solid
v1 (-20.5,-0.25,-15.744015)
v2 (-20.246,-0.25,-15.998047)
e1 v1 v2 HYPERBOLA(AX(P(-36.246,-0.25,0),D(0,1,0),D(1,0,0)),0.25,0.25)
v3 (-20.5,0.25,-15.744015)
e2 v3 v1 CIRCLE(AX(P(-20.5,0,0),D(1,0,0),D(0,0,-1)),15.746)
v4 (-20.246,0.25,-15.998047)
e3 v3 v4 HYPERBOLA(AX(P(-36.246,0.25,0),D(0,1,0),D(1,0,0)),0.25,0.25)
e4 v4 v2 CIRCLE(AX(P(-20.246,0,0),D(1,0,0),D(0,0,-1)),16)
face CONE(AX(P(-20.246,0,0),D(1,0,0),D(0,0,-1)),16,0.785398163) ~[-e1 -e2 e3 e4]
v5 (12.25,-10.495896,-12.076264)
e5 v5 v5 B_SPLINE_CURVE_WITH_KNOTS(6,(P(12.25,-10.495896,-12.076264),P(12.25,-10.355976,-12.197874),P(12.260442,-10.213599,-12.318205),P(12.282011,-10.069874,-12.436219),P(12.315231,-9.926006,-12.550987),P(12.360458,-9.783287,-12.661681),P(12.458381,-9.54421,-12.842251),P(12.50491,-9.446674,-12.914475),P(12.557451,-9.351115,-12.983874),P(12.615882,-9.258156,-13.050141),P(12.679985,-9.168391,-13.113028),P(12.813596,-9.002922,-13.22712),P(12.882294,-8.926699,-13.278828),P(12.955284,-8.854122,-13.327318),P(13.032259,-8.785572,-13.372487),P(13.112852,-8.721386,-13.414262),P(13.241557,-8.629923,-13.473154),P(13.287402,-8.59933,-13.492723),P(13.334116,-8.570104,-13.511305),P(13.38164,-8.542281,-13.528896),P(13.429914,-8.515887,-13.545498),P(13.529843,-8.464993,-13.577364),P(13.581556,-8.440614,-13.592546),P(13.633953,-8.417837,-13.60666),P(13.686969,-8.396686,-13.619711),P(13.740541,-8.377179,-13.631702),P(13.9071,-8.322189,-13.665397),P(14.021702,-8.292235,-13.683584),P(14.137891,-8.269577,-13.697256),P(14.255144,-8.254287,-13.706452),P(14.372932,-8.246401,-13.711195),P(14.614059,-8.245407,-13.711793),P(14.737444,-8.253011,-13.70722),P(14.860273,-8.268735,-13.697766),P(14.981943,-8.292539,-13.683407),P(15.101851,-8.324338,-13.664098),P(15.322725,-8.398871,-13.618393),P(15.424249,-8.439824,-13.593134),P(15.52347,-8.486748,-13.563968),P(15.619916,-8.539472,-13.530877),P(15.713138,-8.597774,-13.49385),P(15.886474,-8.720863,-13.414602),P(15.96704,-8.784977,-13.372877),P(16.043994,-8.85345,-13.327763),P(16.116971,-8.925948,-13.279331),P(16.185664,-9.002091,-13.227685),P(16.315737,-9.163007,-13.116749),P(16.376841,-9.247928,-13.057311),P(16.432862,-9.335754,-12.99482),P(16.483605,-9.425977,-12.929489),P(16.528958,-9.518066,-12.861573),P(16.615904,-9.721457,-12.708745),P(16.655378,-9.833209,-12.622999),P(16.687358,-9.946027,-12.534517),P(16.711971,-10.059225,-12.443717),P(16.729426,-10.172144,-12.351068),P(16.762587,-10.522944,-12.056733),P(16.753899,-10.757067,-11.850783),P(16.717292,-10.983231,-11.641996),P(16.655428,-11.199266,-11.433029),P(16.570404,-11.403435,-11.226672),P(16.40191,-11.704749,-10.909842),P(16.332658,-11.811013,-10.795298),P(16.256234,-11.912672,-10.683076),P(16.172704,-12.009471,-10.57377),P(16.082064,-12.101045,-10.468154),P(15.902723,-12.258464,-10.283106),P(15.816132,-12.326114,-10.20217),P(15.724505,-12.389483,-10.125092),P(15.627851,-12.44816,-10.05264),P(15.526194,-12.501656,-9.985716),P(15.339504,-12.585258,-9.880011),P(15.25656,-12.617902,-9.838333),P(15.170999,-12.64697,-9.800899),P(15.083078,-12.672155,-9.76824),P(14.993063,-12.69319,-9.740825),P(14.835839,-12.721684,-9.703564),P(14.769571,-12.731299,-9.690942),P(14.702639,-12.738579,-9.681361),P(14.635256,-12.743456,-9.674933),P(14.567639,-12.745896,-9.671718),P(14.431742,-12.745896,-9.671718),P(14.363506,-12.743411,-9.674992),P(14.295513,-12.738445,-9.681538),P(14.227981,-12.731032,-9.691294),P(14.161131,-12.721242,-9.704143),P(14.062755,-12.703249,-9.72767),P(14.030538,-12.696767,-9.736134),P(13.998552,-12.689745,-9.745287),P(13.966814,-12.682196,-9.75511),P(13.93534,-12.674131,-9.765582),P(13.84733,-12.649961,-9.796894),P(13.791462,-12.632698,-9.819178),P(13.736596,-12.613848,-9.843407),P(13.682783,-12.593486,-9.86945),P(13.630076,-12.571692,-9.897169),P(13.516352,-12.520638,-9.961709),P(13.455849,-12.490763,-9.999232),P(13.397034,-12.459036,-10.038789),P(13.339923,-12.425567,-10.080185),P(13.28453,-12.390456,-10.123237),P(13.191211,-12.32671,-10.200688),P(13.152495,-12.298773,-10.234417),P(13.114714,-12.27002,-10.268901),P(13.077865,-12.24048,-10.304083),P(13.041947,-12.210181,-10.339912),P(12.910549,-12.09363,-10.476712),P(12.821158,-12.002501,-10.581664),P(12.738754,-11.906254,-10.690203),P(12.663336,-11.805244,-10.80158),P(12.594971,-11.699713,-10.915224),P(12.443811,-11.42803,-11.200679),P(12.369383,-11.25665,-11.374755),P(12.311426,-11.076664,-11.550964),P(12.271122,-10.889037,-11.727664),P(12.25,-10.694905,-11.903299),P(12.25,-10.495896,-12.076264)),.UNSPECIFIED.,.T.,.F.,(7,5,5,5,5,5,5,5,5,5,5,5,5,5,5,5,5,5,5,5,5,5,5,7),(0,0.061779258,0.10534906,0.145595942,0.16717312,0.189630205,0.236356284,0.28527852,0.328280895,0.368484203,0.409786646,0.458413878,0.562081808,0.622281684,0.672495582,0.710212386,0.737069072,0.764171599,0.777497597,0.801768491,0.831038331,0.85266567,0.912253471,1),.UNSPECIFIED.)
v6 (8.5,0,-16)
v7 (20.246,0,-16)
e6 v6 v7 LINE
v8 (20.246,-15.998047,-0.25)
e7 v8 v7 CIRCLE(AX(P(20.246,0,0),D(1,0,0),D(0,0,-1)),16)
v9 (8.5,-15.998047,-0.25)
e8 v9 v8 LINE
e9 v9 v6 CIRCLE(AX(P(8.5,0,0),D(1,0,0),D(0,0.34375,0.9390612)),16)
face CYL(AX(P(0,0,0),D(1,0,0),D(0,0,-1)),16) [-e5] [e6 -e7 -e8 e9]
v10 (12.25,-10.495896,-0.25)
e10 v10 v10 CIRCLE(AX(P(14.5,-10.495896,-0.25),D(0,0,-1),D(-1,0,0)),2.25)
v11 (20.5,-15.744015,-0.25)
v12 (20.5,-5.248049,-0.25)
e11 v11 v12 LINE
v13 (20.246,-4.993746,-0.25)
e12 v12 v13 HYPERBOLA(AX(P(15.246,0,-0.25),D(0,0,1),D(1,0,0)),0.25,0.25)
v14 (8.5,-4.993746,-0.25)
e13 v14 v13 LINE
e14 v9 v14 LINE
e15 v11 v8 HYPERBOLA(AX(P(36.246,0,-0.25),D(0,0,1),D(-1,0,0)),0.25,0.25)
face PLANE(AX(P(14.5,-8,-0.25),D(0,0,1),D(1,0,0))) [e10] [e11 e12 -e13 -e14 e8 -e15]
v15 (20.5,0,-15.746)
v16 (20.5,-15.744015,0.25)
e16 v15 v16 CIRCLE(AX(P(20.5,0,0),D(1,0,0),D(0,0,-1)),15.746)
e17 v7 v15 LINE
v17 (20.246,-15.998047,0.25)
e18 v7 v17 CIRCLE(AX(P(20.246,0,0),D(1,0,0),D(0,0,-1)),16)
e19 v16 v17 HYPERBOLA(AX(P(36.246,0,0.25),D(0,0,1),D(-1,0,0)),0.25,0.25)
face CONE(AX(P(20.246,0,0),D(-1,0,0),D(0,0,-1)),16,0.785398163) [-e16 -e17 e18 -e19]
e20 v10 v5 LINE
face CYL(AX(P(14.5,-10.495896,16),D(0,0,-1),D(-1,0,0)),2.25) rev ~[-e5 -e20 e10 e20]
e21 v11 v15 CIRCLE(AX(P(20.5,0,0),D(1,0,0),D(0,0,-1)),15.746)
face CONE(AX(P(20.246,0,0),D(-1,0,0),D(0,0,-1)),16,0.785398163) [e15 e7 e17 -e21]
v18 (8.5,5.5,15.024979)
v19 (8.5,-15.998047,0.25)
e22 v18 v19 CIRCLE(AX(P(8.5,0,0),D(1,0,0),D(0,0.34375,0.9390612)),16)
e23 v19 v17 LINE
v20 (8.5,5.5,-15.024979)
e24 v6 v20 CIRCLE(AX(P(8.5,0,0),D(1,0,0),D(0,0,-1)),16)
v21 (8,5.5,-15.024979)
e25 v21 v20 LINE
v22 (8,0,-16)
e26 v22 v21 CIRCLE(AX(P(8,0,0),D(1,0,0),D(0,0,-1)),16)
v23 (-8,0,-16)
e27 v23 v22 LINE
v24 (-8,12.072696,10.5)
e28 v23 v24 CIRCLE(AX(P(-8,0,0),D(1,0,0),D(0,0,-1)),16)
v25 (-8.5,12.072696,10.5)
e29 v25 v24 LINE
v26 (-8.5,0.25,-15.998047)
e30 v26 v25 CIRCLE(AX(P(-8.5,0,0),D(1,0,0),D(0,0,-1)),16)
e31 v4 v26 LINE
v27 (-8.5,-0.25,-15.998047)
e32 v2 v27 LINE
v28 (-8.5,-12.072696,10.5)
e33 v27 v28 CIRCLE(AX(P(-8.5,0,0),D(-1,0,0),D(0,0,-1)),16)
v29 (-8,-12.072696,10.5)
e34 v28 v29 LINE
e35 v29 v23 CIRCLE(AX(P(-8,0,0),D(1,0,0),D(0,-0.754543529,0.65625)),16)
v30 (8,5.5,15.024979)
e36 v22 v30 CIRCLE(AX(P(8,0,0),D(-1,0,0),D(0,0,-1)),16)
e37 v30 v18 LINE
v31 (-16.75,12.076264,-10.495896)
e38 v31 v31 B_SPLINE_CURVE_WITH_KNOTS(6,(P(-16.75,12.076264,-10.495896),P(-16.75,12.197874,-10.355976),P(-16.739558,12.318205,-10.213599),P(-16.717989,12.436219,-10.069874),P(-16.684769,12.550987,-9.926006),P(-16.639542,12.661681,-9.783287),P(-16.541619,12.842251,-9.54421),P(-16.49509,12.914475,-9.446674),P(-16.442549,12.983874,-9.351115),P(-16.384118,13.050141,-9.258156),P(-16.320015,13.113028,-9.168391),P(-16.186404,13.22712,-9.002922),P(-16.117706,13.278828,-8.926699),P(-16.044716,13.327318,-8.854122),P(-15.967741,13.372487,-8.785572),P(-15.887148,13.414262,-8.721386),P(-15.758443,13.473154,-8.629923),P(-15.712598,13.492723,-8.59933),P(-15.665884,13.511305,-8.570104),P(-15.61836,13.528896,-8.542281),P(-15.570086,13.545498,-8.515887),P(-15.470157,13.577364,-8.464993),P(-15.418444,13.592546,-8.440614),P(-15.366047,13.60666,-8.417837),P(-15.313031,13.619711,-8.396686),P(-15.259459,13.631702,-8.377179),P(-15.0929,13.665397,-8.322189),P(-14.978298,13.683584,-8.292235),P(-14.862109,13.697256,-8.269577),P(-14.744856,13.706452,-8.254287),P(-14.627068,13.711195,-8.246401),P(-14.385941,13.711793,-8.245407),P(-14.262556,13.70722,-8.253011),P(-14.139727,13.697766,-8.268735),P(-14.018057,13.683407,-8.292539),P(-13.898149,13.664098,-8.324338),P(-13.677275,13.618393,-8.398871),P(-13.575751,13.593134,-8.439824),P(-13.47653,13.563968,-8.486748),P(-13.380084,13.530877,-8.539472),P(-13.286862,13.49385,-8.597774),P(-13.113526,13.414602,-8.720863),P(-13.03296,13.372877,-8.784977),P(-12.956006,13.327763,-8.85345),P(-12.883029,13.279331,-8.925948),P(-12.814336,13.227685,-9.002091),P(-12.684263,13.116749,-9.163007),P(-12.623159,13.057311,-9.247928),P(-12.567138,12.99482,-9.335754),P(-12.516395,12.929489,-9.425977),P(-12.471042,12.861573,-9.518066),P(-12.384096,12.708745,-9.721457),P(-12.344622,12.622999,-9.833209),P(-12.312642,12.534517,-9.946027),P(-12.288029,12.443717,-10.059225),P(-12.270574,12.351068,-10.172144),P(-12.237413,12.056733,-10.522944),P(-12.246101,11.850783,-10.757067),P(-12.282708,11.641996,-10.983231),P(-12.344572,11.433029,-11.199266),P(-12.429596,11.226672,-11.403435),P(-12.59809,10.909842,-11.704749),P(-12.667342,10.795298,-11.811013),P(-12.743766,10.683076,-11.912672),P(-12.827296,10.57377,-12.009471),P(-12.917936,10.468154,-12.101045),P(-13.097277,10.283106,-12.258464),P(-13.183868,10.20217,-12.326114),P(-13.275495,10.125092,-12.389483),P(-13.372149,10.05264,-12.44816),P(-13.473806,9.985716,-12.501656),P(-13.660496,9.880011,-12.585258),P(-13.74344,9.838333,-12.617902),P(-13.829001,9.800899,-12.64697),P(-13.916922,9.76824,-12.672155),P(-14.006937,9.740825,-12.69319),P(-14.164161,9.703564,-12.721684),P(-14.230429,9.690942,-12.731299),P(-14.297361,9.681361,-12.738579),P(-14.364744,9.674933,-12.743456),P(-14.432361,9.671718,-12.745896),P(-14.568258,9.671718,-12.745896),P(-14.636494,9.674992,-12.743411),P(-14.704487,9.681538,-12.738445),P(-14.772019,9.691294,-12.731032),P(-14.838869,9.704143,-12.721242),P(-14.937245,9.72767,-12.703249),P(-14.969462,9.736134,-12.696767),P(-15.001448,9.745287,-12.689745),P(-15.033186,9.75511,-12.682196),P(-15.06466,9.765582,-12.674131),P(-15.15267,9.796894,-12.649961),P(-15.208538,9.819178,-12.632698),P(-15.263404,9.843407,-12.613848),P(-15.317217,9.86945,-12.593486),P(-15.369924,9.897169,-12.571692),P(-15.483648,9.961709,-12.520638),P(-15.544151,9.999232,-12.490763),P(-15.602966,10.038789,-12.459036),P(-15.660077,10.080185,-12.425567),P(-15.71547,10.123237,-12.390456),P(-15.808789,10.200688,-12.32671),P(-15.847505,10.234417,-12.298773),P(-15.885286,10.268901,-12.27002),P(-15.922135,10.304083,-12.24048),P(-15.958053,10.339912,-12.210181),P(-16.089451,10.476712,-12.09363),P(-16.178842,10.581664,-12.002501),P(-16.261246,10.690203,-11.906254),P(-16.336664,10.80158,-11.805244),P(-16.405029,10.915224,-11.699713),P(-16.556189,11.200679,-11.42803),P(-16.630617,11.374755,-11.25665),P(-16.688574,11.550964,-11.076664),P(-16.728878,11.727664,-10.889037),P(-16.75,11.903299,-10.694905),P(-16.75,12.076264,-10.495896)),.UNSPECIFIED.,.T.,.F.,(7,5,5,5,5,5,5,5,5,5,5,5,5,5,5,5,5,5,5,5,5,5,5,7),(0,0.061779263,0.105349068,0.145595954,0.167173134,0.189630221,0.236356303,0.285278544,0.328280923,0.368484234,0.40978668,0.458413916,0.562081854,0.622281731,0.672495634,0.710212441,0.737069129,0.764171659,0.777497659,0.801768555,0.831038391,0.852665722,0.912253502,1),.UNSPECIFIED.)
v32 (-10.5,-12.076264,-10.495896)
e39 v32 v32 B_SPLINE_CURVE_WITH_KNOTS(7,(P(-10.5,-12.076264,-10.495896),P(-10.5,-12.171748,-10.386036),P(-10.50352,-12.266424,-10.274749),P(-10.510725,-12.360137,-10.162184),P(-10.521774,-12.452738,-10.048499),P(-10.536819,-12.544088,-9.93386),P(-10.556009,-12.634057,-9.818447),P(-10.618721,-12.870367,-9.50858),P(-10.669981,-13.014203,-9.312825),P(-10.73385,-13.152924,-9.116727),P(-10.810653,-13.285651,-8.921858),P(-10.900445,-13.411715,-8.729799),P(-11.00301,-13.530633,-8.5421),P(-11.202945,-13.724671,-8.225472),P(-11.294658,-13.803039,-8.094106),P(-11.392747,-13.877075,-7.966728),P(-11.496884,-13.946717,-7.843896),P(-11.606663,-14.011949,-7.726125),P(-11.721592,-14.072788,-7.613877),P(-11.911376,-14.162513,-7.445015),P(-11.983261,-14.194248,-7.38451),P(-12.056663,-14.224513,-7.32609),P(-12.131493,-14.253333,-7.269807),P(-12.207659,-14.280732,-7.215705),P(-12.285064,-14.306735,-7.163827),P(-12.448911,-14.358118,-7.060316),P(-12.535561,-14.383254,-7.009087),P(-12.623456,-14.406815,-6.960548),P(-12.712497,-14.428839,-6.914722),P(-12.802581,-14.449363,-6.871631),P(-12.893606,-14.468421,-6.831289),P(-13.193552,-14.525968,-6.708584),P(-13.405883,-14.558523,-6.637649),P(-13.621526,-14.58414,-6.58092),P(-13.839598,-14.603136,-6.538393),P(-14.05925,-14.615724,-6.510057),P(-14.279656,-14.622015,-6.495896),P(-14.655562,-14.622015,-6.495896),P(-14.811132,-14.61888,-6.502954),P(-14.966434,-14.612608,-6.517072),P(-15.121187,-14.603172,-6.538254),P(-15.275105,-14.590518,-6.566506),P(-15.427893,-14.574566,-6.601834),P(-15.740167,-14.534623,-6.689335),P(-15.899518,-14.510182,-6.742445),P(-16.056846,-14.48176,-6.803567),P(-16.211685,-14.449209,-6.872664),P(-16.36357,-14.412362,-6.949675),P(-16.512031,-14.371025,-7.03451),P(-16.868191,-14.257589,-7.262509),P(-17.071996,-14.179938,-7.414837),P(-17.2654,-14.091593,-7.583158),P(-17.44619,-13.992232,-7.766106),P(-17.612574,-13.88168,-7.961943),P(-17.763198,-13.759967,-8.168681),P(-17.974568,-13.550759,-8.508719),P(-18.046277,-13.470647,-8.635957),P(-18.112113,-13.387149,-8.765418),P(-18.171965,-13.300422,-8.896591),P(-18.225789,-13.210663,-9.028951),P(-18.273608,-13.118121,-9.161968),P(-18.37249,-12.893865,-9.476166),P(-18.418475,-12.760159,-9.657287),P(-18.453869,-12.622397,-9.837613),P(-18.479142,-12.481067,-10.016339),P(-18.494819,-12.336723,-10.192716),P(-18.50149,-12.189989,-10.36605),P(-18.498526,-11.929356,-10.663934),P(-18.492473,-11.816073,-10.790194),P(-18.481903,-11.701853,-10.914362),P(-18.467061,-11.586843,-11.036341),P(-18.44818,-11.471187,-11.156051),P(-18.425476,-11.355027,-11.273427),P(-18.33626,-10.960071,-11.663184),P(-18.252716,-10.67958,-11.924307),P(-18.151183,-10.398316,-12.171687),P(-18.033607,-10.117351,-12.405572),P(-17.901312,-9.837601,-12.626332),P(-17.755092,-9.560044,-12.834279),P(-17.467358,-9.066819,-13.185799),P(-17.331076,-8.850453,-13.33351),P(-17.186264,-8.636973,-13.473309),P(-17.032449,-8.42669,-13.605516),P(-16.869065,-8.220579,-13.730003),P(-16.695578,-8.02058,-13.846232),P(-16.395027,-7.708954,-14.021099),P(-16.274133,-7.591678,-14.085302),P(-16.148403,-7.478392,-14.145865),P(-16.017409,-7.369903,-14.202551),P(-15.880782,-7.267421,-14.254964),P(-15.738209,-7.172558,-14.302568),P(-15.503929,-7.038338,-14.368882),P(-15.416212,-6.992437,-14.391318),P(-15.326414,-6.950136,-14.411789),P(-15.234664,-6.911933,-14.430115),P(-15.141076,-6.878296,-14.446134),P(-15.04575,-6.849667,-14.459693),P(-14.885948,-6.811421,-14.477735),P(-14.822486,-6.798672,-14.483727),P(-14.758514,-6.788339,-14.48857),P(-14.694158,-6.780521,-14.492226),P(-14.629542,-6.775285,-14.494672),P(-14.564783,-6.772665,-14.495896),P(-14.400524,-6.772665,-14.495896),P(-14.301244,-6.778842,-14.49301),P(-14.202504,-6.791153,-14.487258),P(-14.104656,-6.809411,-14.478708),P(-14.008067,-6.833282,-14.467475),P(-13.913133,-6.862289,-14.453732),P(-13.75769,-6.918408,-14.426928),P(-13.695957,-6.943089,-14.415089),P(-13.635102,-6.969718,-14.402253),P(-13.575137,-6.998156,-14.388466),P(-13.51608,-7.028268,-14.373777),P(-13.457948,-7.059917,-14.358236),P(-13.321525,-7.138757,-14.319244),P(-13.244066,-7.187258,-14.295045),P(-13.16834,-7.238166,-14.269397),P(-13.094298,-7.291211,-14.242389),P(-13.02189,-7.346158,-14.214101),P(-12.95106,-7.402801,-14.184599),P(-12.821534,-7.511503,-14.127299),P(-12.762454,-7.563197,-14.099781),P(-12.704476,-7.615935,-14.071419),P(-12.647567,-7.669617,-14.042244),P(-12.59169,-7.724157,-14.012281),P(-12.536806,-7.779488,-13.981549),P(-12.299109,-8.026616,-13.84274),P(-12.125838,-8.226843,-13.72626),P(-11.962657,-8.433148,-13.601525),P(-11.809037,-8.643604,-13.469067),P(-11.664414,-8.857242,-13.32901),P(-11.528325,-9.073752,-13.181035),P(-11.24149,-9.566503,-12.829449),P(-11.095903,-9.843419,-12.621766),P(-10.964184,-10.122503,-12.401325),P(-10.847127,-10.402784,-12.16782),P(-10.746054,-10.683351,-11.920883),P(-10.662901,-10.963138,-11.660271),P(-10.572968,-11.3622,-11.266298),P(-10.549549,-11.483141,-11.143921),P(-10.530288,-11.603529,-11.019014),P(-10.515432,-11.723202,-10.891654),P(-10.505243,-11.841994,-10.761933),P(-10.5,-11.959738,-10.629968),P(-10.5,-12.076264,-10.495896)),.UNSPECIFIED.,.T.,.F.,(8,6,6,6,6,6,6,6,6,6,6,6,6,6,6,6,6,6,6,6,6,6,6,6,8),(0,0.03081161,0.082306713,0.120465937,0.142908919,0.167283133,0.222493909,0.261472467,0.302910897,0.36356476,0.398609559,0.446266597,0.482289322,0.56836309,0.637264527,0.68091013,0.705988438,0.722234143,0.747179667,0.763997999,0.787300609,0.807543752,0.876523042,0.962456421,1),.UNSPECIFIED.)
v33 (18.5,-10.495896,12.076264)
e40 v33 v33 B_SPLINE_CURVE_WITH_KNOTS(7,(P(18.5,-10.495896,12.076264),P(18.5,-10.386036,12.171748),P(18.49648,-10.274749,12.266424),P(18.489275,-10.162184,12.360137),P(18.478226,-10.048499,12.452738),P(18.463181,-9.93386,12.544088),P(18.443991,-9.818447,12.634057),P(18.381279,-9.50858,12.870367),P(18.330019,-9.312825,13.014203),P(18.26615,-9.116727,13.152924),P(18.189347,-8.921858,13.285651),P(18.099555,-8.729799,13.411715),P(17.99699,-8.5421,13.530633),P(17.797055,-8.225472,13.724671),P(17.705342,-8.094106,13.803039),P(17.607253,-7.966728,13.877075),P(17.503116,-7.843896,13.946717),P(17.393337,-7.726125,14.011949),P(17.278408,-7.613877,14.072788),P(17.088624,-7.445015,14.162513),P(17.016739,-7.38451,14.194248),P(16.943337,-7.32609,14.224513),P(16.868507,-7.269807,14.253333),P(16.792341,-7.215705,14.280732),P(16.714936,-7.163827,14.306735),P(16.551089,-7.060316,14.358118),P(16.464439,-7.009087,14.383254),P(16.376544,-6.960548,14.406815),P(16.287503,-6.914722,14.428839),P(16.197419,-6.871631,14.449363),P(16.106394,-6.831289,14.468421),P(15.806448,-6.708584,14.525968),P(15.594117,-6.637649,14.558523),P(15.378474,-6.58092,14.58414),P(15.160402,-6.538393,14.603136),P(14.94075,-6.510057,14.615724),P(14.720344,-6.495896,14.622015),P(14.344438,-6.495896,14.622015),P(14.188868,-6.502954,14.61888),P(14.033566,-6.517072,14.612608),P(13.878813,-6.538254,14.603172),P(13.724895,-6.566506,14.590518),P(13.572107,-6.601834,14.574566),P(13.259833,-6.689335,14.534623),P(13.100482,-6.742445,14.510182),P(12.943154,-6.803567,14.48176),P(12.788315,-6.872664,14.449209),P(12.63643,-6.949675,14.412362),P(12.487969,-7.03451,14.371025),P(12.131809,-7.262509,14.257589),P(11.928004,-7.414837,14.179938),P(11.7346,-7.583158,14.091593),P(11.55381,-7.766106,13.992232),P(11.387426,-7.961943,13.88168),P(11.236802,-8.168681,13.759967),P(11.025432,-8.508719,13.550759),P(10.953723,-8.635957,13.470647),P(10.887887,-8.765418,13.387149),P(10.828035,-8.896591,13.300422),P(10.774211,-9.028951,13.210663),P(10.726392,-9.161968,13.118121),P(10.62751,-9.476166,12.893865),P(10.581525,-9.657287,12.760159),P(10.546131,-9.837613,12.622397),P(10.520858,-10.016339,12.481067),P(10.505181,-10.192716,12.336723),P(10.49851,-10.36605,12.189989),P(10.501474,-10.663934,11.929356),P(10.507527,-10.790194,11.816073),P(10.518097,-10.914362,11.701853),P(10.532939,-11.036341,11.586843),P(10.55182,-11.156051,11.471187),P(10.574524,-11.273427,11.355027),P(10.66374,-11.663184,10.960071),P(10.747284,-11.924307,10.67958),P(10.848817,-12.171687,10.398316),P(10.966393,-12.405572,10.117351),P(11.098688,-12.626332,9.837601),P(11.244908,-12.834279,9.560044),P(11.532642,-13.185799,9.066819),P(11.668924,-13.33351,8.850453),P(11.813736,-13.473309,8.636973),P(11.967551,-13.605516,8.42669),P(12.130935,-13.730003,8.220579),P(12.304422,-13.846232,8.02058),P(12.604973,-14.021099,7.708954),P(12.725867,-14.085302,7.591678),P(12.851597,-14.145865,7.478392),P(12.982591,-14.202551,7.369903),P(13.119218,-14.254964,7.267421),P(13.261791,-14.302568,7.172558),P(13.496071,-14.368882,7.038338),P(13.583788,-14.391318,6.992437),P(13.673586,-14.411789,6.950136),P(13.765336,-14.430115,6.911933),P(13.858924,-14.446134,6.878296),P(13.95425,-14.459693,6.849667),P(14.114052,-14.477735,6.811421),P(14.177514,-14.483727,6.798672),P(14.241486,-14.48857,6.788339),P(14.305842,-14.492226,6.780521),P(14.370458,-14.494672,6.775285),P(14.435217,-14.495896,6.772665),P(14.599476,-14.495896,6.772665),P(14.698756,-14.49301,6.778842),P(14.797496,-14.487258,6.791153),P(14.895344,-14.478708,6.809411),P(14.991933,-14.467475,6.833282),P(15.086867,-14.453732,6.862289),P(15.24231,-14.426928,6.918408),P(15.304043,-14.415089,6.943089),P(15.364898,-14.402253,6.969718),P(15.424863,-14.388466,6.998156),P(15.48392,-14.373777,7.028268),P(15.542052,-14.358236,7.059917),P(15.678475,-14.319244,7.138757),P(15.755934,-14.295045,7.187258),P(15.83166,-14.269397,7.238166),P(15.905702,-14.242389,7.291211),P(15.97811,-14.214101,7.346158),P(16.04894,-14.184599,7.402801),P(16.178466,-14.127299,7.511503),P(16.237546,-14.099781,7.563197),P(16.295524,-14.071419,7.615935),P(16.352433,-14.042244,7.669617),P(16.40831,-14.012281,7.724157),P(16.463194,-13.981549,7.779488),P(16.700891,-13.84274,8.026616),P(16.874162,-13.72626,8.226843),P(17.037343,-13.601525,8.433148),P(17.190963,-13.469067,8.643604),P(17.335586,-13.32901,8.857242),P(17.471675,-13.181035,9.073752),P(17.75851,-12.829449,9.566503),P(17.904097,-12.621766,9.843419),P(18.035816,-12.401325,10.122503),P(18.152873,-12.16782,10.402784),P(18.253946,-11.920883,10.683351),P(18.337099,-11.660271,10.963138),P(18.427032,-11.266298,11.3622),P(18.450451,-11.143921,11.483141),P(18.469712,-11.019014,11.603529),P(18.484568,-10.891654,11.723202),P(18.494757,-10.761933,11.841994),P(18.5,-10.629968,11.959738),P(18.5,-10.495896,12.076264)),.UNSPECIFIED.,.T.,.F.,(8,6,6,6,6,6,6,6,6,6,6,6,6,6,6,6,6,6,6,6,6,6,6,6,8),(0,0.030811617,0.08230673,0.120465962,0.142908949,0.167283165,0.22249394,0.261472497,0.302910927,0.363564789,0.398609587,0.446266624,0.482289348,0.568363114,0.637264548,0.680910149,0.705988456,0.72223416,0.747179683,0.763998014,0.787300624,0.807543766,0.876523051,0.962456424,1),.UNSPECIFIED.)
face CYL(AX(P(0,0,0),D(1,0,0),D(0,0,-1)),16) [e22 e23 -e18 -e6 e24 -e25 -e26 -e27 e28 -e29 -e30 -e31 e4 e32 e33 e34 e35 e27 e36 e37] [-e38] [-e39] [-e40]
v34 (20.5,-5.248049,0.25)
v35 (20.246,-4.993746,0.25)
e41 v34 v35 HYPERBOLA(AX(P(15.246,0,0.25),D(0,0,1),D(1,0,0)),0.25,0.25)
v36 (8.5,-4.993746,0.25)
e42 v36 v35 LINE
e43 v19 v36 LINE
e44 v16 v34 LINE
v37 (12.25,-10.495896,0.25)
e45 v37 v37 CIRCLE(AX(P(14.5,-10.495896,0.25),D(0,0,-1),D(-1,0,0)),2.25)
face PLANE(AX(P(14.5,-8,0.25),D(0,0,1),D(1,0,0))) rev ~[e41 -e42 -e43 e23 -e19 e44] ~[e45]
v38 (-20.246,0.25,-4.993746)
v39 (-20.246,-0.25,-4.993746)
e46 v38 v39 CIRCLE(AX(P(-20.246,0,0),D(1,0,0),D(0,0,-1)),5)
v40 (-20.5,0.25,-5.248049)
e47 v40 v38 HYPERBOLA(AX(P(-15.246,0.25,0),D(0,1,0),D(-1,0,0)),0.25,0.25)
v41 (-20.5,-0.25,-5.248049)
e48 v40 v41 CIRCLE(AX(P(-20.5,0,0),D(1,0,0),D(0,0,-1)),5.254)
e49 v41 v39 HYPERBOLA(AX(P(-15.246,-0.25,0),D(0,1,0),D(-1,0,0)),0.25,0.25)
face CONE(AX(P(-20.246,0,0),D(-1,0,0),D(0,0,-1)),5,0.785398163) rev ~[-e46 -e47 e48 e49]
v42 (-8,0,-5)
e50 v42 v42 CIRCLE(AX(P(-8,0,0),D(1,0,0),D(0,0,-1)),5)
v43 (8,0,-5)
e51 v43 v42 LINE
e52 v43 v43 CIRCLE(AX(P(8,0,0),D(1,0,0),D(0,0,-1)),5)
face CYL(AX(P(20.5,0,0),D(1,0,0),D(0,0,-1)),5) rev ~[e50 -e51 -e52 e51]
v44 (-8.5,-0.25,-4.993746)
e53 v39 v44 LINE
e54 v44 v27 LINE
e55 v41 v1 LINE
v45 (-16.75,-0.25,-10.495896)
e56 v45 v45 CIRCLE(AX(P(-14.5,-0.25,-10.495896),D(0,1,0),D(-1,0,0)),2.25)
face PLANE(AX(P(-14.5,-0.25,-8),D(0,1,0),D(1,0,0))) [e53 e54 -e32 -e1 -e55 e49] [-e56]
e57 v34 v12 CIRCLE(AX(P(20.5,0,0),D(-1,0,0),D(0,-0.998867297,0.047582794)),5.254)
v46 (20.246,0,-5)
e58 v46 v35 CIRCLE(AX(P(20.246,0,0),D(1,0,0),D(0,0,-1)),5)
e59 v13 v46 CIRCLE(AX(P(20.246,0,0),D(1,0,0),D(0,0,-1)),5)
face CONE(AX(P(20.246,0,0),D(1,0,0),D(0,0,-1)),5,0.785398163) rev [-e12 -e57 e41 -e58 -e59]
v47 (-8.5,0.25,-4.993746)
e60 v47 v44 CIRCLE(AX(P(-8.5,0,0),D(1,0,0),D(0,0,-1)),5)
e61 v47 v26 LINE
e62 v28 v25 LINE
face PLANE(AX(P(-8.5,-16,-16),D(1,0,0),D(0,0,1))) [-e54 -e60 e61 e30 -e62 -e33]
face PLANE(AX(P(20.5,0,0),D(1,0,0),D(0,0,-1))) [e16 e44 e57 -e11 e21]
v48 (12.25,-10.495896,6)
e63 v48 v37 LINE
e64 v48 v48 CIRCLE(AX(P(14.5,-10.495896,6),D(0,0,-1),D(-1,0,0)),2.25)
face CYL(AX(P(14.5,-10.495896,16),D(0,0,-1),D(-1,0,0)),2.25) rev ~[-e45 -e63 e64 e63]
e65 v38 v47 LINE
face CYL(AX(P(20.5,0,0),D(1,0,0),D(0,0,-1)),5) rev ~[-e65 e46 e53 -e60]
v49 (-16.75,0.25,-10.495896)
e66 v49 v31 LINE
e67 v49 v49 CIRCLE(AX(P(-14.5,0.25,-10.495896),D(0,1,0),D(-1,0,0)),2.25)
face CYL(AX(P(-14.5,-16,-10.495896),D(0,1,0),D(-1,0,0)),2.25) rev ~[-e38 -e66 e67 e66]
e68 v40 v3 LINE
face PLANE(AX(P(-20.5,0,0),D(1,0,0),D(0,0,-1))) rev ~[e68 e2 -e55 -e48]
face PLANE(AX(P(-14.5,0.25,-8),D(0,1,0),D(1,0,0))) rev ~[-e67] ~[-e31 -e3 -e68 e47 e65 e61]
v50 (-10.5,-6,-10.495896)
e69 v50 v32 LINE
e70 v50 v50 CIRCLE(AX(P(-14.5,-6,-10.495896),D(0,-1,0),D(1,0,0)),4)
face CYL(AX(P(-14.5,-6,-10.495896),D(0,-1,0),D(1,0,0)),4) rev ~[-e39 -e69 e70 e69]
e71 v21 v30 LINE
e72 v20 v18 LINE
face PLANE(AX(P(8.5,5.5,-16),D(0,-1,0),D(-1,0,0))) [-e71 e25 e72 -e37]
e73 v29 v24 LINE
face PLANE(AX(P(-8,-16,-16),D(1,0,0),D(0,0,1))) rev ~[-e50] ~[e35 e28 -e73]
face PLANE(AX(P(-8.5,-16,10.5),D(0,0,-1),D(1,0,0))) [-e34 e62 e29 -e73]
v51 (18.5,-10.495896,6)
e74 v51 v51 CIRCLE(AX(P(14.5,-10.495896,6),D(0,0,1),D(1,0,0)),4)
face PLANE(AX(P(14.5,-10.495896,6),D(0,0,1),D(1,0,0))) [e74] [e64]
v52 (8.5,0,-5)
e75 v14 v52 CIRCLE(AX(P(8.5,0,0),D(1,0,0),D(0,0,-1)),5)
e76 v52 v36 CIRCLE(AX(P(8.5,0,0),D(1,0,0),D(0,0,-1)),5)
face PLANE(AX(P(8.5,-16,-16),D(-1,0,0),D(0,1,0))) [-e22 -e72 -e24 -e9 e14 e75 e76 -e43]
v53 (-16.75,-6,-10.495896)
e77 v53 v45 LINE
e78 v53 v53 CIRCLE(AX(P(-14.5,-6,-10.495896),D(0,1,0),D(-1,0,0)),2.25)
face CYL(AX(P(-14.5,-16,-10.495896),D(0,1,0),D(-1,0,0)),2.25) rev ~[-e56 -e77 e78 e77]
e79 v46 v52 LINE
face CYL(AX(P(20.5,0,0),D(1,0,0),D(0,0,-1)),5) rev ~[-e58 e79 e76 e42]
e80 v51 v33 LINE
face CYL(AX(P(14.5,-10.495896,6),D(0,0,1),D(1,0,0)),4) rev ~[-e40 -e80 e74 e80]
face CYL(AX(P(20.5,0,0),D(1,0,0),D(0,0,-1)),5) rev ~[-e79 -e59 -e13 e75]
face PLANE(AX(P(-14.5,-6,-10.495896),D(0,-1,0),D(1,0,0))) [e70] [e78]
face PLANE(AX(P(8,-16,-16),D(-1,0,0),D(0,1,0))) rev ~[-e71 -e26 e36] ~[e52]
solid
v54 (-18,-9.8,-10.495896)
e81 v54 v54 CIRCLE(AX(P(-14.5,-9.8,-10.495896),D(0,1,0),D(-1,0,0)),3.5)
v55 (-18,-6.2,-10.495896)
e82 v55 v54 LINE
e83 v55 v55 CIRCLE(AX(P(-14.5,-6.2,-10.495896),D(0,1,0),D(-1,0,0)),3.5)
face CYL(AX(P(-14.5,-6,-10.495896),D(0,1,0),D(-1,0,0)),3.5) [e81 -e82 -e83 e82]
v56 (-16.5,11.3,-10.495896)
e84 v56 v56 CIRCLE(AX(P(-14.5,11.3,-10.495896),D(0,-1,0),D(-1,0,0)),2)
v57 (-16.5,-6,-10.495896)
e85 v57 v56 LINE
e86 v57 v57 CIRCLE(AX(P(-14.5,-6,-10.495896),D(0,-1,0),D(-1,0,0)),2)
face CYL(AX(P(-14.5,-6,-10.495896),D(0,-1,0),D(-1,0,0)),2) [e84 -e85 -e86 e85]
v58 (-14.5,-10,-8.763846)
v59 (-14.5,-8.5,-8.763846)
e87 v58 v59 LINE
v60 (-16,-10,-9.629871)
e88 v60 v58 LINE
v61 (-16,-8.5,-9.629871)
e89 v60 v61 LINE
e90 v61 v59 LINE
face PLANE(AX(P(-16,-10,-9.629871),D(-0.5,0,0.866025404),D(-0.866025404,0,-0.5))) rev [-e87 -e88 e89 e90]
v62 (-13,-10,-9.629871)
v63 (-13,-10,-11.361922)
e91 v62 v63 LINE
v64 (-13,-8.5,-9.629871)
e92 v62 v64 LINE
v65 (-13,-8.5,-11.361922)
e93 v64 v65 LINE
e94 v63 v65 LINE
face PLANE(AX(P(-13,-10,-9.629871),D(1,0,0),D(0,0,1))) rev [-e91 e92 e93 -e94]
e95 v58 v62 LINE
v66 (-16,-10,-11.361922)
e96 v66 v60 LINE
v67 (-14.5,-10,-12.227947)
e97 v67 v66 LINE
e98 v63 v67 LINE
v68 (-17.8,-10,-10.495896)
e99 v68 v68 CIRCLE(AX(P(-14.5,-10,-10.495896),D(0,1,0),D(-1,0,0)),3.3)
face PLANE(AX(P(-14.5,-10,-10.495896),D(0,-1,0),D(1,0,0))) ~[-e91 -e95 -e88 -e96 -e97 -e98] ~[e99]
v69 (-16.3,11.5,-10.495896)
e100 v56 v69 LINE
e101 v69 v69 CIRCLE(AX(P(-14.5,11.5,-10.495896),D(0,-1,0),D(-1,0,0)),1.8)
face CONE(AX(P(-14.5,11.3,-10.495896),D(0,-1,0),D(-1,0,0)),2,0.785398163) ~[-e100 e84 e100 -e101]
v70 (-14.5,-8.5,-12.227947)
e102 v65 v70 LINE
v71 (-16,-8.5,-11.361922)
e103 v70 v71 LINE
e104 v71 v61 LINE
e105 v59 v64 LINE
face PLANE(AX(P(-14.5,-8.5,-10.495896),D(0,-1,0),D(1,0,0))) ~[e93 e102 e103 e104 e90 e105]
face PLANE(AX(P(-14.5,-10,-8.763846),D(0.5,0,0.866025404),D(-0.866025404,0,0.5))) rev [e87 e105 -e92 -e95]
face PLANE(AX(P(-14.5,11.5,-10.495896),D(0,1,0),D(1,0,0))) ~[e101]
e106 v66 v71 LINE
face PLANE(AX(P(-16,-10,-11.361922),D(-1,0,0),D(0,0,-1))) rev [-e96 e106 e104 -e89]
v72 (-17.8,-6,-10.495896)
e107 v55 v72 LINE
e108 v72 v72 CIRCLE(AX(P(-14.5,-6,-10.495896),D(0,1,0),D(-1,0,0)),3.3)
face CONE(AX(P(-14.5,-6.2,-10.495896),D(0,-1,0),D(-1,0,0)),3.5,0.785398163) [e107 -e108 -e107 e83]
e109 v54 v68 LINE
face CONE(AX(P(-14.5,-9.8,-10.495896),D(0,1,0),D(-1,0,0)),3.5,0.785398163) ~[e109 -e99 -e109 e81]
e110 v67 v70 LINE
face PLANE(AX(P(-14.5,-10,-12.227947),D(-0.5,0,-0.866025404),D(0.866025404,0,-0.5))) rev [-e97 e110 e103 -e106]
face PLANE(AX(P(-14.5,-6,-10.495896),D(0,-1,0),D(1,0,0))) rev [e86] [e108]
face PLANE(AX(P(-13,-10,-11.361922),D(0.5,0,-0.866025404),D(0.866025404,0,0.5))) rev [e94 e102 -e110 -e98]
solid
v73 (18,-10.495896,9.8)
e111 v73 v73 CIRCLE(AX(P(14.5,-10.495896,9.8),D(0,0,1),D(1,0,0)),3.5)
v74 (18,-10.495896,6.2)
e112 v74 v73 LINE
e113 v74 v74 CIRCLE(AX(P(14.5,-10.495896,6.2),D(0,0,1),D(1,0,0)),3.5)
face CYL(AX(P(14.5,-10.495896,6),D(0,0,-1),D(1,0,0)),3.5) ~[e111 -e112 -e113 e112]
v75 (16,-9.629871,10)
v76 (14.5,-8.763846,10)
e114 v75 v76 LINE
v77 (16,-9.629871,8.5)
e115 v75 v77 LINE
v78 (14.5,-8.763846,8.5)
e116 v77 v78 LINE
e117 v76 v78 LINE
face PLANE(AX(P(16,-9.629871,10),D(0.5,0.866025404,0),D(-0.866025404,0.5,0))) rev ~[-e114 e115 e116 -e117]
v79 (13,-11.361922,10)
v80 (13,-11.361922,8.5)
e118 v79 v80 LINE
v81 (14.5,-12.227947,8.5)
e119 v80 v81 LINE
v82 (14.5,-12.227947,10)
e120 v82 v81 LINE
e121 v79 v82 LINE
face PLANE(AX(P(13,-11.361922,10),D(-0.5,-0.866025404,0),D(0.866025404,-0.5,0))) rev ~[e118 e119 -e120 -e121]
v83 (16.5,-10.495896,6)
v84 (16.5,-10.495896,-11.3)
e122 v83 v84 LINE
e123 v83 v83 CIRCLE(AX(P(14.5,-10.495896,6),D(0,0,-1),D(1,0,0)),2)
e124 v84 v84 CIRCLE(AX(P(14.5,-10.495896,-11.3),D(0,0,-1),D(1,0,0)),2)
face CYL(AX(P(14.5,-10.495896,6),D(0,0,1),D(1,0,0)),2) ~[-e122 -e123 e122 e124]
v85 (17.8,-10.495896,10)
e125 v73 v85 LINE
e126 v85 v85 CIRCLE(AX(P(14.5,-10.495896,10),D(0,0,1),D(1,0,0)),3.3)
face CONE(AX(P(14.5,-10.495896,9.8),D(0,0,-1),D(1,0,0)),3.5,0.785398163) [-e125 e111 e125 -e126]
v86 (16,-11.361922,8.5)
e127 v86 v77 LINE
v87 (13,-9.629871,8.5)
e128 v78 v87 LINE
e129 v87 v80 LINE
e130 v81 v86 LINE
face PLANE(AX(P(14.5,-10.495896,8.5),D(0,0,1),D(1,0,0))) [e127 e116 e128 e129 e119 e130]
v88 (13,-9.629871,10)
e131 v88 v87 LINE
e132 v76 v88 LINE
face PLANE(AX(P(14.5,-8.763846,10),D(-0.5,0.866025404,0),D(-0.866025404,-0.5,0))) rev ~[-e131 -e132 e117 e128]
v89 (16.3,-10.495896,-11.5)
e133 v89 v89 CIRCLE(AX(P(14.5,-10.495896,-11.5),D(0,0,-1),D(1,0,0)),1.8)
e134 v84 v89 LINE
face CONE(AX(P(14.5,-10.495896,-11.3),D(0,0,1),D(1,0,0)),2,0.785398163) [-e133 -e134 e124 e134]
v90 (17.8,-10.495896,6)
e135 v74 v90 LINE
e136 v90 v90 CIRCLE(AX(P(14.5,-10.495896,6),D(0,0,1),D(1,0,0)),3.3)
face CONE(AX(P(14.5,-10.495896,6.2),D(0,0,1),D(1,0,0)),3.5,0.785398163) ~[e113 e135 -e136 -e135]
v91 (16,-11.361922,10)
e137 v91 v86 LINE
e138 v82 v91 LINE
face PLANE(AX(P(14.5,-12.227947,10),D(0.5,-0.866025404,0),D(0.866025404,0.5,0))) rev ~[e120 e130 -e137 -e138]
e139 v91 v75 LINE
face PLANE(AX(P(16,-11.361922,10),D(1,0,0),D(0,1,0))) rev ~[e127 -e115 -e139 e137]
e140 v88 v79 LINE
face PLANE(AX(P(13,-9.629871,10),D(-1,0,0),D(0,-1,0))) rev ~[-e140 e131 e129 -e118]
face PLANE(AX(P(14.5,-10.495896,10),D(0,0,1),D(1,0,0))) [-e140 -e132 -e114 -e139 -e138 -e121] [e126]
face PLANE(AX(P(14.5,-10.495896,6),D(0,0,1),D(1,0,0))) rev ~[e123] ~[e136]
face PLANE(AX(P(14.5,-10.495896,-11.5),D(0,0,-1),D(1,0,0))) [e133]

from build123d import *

# Parameters (mm, degrees)
SKETCH1_R                      = 16
BOSS_EXTRUDE1_DEPTH            = 20.5
SKETCH2_R                      = 5
CUT_EXTRUDE1_DEPTH             = 42
CHAMFER1_SIZE                  = 0.254
SKETCH4_W                      = 0.5
SKETCH4_H                      = 26.5
CUT_EXTRUDE2_DEPTH             = 33
SKETCH7_W                      = 0.5
SKETCH7_H                      = 21.5
CUT_EXTRUDE3_DEPTH             = 33
SKETCH8_W                      = 12
SKETCH8_H                      = 16
CUT_EXTRUDE5_DEPTH             = 0.25
SKETCH13_W                     = 12
SKETCH13_H                     = 16
CUT_EXTRUDE6_DEPTH             = 0.25
CBORE_FOR_M4_SHCS1_D           = 4.5
CBORE_FOR_M4_SHCS1_CBORE_D     = 8
CBORE_FOR_M4_SHCS1_CBORE_DEPTH = 10
CBORE_FOR_M4_SHCS2_D           = 4.5
CBORE_FOR_M4_SHCS2_CBORE_D     = 8
CBORE_FOR_M4_SHCS2_CBORE_DEPTH = 10
SKETCH16_R                     = 3.5
BOSS_EXTRUDE2_DEPTH            = 4
SKETCH17_R                     = 2
BOSS_EXTRUDE3_DEPTH            = 17.5
CHAMFER2_SIZE                  = 0.2
CUT_EXTRUDE7_DEPTH             = 1.5
CIRPATTERN1_COUNT              = 2
CIRPATTERN1_ANGLE              = 90


with BuildPart() as part:
    # Sketch1 → Boss-Extrude1 (new body, symmetric)
    with BuildSketch(Plane(origin=(0, 0, 0), x_dir=(0, 0, -1), z_dir=(1, 0, 0))):
        Circle(SKETCH1_R)
    extrude(amount=BOSS_EXTRUDE1_DEPTH, both=True)

    # Sketch2 → Cut-Extrude1 (cut, through all)
    with BuildSketch(Plane(origin=(20.5, 0, 0), x_dir=(0, 0, -1), z_dir=(1, 0, 0))):
        Circle(SKETCH2_R)
    extrude(amount=-CUT_EXTRUDE1_DEPTH, mode=Mode.SUBTRACT)

    # Chamfer1
    chamfer1_edges = [part.edges().sort_by_distance(p)[0] for p in [
        (-20.5, 0, 16),
        (20.5, 0, 16),
        (-20.5, 0, 5),
        (20.5, 0, 5),
    ]]
    chamfer(chamfer1_edges, length=CHAMFER1_SIZE)

    # Sketch4 → Cut-Extrude2 (cut, through all)
    with BuildSketch(Plane.XZ.offset(16)):
        with Locations((-8.25, -2.75)):
            Rectangle(SKETCH4_W, SKETCH4_H)
    extrude(amount=-CUT_EXTRUDE2_DEPTH, mode=Mode.SUBTRACT)

    # Sketch7 → Cut-Extrude3 (cut, through all)
    with BuildSketch(Plane(origin=(0, 0, -16), x_dir=(-1, 0, 0), z_dir=(0, 0, -1))):
        with Locations((-8.25, -5.25)):
            Rectangle(SKETCH7_W, SKETCH7_H)
    extrude(amount=-CUT_EXTRUDE3_DEPTH, mode=Mode.SUBTRACT)

    # Sketch8 → Cut-Extrude5 (cut, symmetric)
    with BuildSketch(Plane(origin=(0, 0, 0), x_dir=(1, 0, 0), z_dir=(0, 1, 0))):
        with Locations((-14.5, 8)):
            Rectangle(SKETCH8_W, SKETCH8_H)
    extrude(amount=CUT_EXTRUDE5_DEPTH, both=True, mode=Mode.SUBTRACT)

    # Sketch13 → Cut-Extrude6 (cut, symmetric)
    with BuildSketch(Plane.XY):
        with Locations((14.5, -8)):
            Rectangle(SKETCH13_W, SKETCH13_H)
    extrude(amount=CUT_EXTRUDE6_DEPTH, both=True, mode=Mode.SUBTRACT)

    # CBORE for M4 SHCS1 (through all)
    with Locations(Plane.XZ.offset(16)):
        with Locations((-14.5, -10.495896422)):
            CounterBoreHole(CBORE_FOR_M4_SHCS1_D / 2, CBORE_FOR_M4_SHCS1_CBORE_D / 2, CBORE_FOR_M4_SHCS1_CBORE_DEPTH)

    # CBORE for M4 SHCS2 (through all)
    with Locations(Plane.XY.offset(16)):
        with Locations((14.5, -10.495896422)):
            CounterBoreHole(CBORE_FOR_M4_SHCS2_D / 2, CBORE_FOR_M4_SHCS2_CBORE_D / 2, CBORE_FOR_M4_SHCS2_CBORE_DEPTH)


with BuildPart() as body_2:
    # Sketch16 → Boss-Extrude2 (new body)
    with BuildSketch(Plane.XY.offset(6)):
        with Locations((14.5, -10.495896422)):
            Circle(SKETCH16_R)
    extrude(amount=BOSS_EXTRUDE2_DEPTH)

    # Sketch17 → Boss-Extrude3 (add)
    with BuildSketch(Plane(origin=(0, 0, 6), x_dir=(-1, 0, 0), z_dir=(0, 0, -1))):
        with Locations(Location((-14.5, -10.495896422, 0), (0, 0, 180))):  # turned: the seam where the file's is
            Circle(SKETCH17_R)
    extrude(amount=BOSS_EXTRUDE3_DEPTH)

    # Chamfer2
    chamfer2_edges = [body_2.edges().sort_by_distance(p)[0] for p in [
        (11, -10.495896422, 6),
        (11, -10.495896422, 10),
        (12.5, -10.495896422, -11.5),
    ]]
    chamfer(chamfer2_edges, length=CHAMFER2_SIZE)

    # Sketch18 → Cut-Extrude7 (cut)
    with BuildSketch(Plane.XY.offset(10)):
        Polygon((14.5, -12.22794723), (16, -11.361921826), (16, -9.629871019), (14.5, -8.763845615), (13, -9.629871019), (13, -11.361921826), align=None)
    extrude(amount=-CUT_EXTRUDE7_DEPTH, mode=Mode.SUBTRACT)


with BuildPart() as body_3:
    # Mirror1: mirrored copy
    add(body_2.part.mirror(Plane(origin=(0, 0, 0), x_dir=(0, 0, 1), z_dir=(1, 0, 0))))


with BuildPart() as cirpattern1_1:
    # CirPattern1: pattern copy
    add(body_3.part.rotate(Axis((0, 0, 0), (1, 0, 0)), 1 * CIRPATTERN1_ANGLE / (CIRPATTERN1_COUNT - 1)))


solid = Compound([part.part, body_2.part, cirpattern1_1.part])
